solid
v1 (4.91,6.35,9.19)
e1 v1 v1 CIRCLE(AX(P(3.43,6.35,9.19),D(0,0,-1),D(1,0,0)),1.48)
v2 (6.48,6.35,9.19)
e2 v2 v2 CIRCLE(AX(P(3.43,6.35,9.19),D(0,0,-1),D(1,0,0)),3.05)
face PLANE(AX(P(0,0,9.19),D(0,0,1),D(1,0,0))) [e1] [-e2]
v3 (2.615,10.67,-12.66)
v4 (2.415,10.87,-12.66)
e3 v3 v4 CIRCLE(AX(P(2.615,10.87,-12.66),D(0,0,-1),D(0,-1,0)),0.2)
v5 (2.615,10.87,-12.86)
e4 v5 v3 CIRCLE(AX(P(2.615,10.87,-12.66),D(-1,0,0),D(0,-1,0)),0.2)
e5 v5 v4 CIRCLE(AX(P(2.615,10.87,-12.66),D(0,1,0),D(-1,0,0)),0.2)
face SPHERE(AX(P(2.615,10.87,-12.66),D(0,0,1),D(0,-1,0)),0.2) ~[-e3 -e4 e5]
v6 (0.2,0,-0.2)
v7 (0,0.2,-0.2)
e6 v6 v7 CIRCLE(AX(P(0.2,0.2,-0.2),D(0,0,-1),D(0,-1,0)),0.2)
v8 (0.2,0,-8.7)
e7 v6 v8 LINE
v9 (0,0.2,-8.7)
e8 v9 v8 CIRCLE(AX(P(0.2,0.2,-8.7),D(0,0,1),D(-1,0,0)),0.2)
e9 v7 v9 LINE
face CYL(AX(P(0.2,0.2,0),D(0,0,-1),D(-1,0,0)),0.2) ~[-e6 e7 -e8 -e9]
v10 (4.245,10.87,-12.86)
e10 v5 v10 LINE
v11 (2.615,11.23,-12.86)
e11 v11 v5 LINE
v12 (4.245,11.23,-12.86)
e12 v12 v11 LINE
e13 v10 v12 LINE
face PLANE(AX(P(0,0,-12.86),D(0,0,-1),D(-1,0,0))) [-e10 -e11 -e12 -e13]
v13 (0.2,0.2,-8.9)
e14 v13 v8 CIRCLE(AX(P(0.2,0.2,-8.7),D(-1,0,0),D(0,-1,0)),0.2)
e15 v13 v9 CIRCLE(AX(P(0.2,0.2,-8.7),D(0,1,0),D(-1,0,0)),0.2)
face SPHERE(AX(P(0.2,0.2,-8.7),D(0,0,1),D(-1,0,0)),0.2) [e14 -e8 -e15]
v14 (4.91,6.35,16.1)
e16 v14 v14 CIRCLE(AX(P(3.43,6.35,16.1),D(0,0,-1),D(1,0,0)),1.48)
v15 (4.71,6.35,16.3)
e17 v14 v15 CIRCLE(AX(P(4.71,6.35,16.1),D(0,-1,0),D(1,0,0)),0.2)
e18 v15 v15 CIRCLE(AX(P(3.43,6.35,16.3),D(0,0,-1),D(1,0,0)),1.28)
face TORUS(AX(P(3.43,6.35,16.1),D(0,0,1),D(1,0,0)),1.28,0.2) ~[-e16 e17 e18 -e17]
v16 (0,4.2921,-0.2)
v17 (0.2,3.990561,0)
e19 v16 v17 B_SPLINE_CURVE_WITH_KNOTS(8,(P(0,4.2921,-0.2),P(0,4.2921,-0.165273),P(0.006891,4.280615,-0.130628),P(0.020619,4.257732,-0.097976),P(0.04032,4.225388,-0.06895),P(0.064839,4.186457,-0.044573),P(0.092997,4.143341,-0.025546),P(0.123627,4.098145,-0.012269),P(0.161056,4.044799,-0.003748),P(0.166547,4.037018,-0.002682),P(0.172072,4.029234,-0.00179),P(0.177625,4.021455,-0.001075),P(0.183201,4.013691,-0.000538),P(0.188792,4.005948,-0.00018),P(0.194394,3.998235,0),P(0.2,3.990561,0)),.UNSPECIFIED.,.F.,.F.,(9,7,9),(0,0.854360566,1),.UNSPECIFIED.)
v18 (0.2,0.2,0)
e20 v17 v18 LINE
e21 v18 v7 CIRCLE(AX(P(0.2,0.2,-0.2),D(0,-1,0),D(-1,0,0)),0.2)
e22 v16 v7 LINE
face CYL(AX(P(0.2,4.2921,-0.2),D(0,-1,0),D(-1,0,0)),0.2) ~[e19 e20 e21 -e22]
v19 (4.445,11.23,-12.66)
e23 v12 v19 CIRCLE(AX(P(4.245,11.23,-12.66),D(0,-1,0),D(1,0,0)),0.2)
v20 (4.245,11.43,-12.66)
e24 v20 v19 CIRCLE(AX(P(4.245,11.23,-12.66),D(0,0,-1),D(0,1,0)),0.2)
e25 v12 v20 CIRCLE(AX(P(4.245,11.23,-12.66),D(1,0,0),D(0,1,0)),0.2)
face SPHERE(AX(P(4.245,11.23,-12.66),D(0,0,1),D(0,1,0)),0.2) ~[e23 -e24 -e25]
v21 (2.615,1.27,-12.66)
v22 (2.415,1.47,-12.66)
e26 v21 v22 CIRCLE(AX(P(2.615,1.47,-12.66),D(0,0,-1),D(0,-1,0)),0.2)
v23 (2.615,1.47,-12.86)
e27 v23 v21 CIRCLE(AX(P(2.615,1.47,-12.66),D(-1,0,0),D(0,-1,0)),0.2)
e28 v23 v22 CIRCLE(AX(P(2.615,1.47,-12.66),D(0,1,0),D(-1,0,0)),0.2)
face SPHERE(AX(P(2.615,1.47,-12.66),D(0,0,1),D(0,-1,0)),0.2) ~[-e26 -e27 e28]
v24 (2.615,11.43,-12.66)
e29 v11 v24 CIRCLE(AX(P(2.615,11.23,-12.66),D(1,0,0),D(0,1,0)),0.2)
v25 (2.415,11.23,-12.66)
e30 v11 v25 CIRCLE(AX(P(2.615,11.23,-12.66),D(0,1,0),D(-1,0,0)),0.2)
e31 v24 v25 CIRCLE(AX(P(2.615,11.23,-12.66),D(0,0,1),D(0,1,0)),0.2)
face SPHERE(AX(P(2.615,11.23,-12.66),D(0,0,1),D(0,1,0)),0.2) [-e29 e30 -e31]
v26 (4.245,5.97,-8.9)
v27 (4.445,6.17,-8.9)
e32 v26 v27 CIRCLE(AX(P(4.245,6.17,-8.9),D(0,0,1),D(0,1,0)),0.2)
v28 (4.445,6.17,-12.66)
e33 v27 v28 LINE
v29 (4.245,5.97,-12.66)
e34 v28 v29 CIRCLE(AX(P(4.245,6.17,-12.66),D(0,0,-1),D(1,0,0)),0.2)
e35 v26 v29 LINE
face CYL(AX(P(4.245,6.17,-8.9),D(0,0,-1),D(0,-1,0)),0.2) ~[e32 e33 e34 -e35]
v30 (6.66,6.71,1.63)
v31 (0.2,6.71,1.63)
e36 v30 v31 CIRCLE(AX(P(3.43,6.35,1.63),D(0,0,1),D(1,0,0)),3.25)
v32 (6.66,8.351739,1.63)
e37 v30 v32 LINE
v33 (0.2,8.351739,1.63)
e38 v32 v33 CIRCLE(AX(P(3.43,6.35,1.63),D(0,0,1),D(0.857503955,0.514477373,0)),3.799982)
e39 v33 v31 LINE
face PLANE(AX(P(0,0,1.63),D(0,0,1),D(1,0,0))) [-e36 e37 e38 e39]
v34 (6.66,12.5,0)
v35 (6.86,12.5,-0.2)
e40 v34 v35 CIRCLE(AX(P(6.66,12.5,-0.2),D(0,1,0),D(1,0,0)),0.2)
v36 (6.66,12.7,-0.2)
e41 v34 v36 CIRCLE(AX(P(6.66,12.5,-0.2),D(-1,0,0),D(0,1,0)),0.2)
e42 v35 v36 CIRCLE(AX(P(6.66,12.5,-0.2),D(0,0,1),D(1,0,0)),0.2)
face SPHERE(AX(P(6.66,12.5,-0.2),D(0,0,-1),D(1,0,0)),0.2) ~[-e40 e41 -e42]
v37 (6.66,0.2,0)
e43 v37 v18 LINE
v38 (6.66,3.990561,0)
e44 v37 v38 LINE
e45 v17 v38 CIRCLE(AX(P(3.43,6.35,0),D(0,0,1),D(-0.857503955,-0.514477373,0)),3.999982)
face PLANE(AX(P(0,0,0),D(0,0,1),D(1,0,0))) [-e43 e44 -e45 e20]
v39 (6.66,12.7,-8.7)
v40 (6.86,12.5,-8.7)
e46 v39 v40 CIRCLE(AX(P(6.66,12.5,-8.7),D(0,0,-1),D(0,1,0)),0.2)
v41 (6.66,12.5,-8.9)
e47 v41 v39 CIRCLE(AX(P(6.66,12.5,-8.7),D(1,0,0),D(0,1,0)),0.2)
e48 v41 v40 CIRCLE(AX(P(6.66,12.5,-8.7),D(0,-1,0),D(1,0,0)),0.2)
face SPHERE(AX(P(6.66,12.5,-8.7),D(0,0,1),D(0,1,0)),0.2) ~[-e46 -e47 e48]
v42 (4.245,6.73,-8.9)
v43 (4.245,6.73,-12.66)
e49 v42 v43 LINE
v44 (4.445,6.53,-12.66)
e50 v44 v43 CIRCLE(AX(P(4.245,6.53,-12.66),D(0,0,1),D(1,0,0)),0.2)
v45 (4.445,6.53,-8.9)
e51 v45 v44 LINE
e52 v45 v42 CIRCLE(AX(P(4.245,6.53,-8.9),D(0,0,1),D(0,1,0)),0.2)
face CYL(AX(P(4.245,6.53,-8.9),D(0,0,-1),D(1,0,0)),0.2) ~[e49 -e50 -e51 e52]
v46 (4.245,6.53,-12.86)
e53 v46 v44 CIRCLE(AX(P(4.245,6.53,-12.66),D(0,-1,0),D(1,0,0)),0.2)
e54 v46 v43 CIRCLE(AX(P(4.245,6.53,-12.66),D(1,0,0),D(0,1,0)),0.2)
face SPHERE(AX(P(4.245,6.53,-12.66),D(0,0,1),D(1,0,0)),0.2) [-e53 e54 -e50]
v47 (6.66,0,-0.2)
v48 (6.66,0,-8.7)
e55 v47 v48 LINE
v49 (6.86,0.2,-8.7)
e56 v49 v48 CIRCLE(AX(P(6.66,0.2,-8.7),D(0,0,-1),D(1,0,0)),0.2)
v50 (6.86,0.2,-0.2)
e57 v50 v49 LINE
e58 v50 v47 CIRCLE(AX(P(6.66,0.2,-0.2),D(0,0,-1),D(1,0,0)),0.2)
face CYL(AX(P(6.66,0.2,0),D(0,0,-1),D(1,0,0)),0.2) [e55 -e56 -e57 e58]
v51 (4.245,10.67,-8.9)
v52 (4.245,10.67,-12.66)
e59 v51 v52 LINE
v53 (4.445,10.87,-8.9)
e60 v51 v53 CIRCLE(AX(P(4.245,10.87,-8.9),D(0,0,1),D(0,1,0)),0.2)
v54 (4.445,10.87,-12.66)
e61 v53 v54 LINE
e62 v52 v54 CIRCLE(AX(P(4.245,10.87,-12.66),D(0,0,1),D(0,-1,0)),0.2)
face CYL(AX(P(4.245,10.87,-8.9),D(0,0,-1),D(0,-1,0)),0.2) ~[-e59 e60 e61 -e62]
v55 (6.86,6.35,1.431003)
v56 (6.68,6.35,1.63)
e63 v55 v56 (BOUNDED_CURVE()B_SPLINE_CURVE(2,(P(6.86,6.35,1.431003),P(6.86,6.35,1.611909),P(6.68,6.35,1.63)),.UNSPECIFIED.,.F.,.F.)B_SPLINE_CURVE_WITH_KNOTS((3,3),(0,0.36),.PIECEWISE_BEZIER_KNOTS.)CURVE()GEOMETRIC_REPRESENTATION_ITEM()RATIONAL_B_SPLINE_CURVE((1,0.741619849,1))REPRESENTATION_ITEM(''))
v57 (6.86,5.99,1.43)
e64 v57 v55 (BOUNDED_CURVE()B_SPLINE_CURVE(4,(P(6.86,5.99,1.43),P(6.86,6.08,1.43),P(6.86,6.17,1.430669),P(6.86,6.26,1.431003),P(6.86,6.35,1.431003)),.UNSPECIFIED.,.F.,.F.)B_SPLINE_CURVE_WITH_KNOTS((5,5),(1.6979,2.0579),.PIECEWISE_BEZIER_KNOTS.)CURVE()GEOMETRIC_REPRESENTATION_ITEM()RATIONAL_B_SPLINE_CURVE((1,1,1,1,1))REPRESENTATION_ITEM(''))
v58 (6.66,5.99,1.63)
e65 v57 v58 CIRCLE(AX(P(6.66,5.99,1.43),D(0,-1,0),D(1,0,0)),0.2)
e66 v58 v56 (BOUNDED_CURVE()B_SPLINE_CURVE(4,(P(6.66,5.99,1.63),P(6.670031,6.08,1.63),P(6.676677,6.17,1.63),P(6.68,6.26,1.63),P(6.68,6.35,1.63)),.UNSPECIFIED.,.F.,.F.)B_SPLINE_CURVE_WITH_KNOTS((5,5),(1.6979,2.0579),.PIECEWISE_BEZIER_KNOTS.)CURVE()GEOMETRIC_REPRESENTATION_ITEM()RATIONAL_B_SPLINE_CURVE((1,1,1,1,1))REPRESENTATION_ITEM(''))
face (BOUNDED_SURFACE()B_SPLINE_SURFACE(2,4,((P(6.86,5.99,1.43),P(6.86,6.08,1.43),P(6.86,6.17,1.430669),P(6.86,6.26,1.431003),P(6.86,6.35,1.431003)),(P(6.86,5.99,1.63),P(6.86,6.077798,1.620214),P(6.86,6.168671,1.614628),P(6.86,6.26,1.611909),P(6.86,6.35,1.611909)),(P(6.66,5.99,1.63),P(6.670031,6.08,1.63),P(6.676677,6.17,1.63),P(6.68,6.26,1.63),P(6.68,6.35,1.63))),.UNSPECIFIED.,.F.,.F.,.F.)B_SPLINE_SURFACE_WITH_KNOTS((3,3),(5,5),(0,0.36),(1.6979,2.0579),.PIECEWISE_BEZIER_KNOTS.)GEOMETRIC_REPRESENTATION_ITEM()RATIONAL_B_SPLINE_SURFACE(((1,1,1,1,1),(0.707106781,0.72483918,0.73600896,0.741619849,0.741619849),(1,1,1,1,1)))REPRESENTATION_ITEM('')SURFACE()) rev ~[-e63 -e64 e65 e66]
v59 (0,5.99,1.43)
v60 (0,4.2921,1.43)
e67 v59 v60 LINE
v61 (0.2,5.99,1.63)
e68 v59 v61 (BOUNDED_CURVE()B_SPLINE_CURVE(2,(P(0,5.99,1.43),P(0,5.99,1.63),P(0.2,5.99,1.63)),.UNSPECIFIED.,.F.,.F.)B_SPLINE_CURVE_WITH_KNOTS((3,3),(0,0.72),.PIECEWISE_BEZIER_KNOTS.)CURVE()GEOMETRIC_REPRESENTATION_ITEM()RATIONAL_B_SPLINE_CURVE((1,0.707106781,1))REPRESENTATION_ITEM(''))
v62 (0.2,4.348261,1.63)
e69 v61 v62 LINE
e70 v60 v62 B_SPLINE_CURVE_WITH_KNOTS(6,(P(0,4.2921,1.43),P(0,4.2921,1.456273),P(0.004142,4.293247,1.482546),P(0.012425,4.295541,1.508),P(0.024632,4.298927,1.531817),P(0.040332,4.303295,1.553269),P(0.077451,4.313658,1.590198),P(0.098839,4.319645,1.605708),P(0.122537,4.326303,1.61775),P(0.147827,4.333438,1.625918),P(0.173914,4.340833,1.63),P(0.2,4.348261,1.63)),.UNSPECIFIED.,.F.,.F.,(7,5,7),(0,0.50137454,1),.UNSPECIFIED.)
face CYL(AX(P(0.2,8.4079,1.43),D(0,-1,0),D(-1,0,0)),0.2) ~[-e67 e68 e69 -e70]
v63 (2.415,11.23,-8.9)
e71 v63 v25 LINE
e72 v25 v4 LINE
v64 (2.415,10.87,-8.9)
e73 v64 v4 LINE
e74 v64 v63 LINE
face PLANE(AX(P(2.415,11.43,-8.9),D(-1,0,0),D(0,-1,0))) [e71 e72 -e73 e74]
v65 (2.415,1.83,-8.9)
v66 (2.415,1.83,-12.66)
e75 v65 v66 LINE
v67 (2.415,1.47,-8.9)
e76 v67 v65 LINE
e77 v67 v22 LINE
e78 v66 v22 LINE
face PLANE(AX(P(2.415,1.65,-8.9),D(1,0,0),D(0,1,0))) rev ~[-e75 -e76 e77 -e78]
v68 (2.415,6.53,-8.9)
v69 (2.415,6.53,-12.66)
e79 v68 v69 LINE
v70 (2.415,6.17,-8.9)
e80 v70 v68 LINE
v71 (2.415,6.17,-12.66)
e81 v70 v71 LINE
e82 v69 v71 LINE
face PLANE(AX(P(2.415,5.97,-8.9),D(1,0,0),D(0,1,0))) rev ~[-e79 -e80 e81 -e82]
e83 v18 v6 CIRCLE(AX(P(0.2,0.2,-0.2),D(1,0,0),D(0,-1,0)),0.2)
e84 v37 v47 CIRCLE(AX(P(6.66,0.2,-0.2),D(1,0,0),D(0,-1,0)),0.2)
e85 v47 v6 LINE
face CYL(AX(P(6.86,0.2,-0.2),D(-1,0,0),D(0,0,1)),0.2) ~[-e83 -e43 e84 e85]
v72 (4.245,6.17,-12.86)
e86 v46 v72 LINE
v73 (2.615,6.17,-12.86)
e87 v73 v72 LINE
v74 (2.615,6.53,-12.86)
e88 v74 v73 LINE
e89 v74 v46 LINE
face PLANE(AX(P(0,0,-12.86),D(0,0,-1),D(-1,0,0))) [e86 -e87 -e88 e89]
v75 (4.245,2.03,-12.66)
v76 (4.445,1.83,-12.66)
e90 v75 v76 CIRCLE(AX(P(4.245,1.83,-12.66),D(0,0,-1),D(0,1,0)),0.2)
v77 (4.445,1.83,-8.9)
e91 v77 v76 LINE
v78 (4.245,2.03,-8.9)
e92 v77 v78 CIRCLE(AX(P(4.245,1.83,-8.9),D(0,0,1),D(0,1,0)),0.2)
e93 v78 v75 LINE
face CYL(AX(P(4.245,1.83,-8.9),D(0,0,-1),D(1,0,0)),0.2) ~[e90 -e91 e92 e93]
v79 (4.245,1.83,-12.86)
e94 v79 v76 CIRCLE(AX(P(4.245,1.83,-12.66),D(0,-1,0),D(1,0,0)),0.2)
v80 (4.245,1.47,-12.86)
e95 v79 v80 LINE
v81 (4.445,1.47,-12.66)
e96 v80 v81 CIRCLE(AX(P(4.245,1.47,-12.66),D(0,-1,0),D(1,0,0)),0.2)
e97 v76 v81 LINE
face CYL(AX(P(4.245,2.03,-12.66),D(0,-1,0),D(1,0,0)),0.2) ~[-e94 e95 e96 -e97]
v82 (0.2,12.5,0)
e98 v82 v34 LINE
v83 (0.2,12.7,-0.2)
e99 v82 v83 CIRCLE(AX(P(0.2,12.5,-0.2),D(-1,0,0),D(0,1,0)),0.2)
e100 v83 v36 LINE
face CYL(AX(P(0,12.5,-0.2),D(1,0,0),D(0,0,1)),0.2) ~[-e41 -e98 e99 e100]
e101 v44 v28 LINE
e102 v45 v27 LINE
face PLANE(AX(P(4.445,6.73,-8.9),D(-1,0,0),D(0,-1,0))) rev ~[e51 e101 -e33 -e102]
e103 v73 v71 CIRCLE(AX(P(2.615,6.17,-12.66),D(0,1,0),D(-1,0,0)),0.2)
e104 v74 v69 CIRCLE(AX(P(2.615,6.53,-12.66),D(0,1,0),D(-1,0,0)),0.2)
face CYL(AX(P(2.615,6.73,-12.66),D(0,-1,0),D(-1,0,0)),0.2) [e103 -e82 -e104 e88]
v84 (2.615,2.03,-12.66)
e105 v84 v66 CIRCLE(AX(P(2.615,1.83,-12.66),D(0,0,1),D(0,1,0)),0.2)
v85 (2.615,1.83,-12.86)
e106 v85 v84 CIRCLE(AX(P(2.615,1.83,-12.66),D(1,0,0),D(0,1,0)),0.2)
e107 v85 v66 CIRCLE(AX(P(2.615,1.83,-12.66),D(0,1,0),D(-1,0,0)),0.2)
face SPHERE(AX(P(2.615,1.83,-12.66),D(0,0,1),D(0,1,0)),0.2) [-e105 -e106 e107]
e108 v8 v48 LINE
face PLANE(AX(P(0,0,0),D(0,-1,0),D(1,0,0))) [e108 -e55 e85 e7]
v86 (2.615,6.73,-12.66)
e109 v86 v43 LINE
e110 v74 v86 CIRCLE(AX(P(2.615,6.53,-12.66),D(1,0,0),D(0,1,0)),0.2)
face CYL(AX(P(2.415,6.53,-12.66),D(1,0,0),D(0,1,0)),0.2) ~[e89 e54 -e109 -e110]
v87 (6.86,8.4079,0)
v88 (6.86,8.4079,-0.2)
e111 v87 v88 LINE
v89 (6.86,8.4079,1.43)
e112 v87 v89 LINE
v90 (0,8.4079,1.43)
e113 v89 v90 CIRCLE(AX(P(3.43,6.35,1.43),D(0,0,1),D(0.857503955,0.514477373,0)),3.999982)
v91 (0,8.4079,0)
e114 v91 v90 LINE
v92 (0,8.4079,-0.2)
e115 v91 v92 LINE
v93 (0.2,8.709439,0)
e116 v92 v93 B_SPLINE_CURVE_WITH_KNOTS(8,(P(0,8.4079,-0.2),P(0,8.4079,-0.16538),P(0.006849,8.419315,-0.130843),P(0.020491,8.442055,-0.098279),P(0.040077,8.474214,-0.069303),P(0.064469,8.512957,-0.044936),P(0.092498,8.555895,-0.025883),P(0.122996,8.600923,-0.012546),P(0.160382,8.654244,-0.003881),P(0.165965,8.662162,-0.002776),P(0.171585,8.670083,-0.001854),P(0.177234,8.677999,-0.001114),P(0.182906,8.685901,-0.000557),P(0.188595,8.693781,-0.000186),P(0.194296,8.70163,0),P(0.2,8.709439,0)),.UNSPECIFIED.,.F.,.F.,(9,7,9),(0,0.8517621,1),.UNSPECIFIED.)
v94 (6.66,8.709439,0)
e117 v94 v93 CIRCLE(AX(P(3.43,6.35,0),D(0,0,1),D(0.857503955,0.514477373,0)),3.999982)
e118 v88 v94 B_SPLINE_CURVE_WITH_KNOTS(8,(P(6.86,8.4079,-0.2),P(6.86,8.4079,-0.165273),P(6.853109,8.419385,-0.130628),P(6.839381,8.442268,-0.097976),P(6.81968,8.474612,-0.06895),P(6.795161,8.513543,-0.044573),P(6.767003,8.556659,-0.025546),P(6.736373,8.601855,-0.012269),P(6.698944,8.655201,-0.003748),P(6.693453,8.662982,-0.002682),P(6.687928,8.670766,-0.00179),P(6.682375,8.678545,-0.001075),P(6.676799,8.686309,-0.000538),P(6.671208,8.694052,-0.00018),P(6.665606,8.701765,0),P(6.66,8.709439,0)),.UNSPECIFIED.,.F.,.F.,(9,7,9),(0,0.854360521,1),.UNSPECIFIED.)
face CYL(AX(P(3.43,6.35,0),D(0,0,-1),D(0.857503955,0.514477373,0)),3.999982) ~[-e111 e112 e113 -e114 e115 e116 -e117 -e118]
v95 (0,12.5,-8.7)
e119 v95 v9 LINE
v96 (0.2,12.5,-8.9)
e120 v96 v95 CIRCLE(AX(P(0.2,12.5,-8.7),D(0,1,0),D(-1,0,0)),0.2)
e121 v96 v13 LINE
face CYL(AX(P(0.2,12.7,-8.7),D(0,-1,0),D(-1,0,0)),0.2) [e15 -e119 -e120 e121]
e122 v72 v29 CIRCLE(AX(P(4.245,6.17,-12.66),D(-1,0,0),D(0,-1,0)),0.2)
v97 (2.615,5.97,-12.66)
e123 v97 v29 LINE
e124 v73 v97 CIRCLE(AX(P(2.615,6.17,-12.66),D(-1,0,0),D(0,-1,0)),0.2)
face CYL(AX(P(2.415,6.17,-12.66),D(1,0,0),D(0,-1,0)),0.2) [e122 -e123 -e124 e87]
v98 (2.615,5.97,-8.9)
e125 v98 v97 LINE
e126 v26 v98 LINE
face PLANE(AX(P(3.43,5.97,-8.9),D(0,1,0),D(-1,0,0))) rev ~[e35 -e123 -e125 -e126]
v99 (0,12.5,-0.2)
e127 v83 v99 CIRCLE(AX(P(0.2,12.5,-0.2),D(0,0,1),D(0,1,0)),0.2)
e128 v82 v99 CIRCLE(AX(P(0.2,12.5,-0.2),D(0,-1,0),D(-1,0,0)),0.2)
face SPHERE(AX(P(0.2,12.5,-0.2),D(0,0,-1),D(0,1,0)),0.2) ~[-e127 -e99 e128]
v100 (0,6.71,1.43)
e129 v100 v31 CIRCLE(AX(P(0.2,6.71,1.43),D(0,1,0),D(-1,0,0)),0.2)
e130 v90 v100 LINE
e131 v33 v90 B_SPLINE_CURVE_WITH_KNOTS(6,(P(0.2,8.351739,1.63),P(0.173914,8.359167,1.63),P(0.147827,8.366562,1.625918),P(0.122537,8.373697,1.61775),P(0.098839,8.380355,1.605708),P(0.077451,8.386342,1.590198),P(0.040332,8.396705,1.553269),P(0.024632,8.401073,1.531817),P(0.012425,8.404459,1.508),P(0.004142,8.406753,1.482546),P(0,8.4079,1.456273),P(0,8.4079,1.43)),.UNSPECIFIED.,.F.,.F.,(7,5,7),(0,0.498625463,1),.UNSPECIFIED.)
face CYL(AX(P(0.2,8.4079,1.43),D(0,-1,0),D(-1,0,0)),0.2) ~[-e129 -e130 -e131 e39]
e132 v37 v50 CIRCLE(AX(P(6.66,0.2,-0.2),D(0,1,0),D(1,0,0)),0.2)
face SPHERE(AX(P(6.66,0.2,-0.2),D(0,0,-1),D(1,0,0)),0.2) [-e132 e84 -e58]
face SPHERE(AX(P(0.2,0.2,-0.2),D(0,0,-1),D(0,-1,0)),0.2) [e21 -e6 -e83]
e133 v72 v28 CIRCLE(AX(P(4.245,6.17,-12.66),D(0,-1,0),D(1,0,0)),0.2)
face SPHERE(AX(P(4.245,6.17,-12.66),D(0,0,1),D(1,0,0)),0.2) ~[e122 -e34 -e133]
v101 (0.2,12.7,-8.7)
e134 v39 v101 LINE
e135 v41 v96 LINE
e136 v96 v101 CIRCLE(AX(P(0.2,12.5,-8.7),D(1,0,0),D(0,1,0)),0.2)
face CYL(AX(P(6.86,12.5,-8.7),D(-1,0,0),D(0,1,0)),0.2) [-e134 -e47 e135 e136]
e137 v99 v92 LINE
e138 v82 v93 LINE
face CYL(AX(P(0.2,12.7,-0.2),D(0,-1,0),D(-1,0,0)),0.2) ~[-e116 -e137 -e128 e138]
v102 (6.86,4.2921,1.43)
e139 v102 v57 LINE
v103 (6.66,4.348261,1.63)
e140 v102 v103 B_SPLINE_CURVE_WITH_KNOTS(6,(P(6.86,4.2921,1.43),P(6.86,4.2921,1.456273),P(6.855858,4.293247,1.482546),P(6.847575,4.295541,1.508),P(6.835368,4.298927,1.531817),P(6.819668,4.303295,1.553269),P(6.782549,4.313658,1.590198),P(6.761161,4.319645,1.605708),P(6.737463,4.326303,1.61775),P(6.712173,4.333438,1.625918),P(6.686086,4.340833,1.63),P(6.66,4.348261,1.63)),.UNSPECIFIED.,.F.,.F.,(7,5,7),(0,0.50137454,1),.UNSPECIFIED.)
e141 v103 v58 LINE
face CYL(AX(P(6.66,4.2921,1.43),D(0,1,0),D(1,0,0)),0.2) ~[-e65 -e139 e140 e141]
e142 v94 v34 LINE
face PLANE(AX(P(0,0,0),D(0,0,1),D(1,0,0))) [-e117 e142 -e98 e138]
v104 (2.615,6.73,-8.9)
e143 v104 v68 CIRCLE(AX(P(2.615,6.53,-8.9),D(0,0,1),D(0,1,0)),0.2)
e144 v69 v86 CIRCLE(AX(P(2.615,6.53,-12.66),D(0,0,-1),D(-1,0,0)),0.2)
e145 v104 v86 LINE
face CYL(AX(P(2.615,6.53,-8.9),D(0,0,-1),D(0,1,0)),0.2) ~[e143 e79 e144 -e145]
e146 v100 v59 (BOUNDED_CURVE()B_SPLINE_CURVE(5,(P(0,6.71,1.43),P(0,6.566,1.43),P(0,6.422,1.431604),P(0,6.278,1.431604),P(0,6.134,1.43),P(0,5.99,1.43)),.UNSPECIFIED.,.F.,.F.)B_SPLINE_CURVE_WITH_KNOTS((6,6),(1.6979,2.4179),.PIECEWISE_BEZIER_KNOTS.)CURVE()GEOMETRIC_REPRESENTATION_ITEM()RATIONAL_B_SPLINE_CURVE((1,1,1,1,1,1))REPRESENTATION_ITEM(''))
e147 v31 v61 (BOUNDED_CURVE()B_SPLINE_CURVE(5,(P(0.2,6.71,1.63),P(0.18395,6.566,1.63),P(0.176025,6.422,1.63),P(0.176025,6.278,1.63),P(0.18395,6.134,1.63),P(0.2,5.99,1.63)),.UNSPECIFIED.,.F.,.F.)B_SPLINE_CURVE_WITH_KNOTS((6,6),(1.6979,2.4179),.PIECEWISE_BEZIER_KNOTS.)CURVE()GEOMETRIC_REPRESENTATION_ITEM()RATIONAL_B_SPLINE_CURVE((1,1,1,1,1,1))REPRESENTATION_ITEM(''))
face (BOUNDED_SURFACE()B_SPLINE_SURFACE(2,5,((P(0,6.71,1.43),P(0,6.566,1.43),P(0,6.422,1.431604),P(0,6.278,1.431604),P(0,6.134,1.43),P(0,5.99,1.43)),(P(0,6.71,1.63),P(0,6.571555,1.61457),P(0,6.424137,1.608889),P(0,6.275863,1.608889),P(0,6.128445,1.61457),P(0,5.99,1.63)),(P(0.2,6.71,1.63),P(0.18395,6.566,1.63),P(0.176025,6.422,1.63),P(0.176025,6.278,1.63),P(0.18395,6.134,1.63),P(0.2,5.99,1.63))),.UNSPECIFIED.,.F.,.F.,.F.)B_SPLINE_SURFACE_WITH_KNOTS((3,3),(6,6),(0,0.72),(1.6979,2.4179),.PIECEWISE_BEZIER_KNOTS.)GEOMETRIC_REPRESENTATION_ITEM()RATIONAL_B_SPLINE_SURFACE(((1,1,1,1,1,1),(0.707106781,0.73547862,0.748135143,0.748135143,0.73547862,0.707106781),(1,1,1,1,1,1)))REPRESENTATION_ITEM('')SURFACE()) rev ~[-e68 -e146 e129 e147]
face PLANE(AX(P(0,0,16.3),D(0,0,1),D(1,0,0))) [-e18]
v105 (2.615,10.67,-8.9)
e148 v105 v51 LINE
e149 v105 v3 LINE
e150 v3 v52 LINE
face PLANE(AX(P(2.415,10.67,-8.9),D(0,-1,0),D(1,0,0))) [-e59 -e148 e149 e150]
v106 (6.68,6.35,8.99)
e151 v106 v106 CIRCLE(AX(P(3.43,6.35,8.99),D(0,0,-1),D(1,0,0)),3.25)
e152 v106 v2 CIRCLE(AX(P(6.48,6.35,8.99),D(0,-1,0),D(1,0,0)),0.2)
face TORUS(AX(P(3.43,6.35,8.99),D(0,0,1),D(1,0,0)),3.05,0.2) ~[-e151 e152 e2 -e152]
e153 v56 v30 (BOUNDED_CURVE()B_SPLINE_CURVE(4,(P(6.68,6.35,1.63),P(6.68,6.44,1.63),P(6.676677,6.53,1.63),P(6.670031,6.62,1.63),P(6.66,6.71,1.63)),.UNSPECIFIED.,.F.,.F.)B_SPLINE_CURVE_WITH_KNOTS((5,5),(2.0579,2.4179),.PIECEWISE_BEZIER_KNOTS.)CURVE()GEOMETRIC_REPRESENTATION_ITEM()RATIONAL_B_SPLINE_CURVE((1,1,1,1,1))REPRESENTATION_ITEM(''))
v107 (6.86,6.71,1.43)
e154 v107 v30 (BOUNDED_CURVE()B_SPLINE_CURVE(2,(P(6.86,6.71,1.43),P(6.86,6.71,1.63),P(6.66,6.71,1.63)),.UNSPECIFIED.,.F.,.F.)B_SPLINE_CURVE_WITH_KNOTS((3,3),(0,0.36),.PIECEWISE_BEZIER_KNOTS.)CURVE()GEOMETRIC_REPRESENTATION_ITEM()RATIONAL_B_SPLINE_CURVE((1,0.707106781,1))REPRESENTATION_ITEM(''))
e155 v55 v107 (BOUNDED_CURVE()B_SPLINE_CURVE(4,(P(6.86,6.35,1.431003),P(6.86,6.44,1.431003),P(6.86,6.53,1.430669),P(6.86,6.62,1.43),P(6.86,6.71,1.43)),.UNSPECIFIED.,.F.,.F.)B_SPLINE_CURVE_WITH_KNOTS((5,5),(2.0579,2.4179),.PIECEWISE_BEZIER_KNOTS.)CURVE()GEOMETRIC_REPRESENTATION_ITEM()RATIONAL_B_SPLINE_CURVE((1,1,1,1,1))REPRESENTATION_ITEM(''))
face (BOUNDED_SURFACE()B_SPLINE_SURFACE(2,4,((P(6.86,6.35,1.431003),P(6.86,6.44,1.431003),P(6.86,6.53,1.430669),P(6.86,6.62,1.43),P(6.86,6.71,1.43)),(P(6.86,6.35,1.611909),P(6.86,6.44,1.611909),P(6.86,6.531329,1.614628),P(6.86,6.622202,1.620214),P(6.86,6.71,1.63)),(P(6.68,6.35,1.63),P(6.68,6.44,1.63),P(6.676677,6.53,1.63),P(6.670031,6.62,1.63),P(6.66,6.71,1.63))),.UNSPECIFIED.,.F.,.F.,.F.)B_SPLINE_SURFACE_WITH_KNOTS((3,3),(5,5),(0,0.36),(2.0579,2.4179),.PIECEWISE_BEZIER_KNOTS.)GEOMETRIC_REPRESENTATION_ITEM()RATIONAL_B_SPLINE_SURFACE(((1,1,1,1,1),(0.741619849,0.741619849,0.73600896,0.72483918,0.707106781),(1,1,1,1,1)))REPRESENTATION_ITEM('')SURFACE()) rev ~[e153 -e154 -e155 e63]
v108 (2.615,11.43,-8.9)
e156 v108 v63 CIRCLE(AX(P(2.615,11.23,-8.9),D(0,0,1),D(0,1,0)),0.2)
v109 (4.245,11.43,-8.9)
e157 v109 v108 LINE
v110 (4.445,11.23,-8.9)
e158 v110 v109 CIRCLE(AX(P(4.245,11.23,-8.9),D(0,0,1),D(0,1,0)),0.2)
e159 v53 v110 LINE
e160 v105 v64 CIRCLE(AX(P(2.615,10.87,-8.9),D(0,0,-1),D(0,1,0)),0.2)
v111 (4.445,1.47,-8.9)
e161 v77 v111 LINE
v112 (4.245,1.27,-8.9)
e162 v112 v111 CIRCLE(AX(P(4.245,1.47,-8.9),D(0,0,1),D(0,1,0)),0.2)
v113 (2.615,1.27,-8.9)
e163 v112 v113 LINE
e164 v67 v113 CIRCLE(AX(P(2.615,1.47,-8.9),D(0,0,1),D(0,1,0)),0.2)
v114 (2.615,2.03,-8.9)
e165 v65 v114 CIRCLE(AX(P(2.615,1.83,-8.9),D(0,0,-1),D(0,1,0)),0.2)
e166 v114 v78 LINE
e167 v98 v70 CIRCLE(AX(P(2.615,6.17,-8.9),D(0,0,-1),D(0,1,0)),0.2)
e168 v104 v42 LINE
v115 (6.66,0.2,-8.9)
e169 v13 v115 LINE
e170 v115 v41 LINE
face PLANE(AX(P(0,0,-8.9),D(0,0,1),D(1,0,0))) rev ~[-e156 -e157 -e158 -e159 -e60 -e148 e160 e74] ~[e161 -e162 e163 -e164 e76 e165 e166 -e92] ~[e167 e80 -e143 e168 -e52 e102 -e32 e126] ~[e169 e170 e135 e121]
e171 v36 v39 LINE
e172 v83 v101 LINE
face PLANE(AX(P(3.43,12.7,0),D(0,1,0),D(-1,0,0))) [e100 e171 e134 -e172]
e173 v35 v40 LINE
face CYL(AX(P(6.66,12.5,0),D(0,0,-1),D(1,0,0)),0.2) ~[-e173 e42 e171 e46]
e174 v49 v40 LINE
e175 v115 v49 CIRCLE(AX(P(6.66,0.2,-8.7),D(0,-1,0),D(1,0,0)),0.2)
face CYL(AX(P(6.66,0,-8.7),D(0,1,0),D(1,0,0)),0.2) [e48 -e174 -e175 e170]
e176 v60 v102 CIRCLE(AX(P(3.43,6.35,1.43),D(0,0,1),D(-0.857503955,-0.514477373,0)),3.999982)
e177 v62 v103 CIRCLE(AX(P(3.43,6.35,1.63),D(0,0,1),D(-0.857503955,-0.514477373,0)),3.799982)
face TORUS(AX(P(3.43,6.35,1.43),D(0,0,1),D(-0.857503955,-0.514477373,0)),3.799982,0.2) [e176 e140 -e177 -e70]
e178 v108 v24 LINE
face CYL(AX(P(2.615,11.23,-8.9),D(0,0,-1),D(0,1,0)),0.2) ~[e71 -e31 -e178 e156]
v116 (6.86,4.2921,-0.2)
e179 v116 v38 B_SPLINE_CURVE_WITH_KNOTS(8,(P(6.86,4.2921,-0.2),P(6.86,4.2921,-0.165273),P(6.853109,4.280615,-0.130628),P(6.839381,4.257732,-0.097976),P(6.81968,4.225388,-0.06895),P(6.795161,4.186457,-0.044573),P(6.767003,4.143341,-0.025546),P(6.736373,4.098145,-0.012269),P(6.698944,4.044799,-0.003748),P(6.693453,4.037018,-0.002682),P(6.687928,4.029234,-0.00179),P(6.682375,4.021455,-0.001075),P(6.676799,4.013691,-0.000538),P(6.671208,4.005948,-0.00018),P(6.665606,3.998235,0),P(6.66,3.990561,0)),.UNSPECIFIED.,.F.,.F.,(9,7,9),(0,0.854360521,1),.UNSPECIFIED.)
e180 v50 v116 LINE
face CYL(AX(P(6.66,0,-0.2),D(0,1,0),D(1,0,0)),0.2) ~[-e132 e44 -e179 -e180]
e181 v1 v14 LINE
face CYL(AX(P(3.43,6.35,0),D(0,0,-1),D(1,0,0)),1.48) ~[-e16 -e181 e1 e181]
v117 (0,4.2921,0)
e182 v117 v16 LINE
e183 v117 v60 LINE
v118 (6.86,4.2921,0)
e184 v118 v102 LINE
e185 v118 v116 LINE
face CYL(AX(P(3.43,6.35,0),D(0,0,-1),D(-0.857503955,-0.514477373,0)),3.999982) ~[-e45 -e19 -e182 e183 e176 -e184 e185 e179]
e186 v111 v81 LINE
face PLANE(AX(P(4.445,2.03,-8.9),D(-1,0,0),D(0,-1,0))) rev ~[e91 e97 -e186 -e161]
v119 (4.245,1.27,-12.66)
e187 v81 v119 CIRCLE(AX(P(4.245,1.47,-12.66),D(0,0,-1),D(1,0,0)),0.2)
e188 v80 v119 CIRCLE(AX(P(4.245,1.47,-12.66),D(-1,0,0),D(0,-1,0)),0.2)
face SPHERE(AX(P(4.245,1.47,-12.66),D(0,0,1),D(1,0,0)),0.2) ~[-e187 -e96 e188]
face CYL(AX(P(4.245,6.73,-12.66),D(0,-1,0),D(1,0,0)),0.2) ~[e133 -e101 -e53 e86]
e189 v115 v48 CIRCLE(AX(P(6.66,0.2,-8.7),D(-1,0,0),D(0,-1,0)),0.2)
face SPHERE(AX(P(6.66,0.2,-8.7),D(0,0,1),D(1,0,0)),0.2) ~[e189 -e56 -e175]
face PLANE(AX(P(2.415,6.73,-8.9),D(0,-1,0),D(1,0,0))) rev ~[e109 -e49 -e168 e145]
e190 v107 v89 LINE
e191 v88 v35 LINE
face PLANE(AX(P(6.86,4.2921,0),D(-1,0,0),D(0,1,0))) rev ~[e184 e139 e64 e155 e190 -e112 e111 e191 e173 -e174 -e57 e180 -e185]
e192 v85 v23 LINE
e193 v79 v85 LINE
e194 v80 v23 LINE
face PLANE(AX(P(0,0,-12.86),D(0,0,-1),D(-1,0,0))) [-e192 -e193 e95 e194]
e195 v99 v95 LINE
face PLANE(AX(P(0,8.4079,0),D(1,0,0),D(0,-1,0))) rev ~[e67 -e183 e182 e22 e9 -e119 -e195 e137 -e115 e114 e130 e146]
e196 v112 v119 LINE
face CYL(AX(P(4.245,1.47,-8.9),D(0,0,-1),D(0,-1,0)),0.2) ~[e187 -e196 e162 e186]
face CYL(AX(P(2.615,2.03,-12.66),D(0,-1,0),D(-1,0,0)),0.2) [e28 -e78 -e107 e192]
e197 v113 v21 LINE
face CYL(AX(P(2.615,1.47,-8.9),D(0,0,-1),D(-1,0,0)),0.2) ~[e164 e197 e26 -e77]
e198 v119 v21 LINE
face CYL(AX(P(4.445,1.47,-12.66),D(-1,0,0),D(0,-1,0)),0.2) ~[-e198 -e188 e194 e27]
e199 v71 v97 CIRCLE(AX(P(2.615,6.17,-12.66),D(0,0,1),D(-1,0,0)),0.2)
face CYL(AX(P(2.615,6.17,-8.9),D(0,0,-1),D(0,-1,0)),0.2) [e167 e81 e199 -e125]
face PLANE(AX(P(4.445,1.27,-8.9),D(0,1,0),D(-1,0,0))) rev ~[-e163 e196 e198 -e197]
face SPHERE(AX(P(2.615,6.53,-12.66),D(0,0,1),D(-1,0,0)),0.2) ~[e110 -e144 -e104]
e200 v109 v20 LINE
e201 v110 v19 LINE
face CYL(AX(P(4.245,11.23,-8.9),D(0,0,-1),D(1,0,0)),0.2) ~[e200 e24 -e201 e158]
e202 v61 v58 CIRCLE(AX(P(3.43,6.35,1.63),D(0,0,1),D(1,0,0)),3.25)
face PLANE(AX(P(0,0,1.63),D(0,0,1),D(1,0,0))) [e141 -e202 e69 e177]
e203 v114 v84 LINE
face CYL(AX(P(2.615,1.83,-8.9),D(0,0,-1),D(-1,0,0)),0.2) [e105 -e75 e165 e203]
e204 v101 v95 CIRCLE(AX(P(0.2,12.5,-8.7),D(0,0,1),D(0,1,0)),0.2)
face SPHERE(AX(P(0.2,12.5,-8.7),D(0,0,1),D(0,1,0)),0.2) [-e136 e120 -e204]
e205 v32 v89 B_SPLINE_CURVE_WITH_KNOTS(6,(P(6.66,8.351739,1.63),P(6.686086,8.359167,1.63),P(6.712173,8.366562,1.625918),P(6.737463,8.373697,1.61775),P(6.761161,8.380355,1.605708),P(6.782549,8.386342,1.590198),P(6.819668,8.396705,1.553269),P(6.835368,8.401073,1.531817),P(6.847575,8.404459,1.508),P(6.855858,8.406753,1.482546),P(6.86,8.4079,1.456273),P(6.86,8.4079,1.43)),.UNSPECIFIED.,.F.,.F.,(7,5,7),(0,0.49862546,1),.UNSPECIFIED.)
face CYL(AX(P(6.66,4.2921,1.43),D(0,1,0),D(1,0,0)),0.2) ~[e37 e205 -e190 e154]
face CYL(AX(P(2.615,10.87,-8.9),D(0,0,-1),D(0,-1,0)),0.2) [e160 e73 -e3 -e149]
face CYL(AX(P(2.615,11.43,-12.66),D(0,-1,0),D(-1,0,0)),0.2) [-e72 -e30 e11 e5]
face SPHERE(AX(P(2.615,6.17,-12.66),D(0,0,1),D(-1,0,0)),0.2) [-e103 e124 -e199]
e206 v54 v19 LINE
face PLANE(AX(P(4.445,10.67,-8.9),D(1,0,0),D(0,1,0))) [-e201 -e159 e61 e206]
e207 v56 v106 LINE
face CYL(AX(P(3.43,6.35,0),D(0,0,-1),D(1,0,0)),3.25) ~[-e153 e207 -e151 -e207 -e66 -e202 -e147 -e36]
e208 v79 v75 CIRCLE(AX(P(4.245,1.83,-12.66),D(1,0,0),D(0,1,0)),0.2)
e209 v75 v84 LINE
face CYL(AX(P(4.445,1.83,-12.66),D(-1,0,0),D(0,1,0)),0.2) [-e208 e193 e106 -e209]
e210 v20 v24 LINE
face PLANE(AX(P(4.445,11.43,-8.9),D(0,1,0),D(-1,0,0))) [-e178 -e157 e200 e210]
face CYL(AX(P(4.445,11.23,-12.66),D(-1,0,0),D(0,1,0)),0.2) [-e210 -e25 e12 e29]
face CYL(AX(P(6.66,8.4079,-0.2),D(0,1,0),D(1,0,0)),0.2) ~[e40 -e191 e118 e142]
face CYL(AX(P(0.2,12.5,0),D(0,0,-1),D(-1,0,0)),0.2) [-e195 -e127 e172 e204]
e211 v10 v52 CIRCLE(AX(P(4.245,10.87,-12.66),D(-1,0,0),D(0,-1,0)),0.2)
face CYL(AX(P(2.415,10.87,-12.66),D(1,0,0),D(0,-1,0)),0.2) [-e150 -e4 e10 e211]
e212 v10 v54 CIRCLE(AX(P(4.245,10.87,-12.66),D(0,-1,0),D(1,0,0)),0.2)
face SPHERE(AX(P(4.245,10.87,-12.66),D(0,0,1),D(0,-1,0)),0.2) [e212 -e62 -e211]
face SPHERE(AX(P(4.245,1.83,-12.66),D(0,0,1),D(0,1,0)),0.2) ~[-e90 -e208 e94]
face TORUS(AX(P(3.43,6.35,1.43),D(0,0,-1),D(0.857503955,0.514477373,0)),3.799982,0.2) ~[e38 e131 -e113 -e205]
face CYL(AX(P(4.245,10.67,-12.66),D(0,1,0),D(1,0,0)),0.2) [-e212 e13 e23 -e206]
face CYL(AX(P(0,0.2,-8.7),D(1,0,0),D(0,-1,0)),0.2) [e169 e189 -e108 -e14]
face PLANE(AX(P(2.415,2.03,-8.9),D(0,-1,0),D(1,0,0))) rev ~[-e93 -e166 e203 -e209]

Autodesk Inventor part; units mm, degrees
ref_plane "YZ Plane" through (0, 0, 0) normal (1, 0, 0) x (0, 1, 0)
ref_plane "XZ Plane" through (0, 0, 0) normal (0, 1, 0) x (-1, 0, 0)
ref_plane "XY Plane" through (0, 0, 0) normal (0, 0, 1) x (1, 0, 0)
sketch "Boceto1" plane through (0, 0, 0) normal (0, 0, 1) x (1, 0, 0)
  line L0 (0, 0) -> (6.86, 0)
  line L1 (6.86, 0) -> (6.86, 12.7)
  line L2 (6.86, 12.7) -> (0, 12.7)
  line L3 (0, 12.7) -> (0, 0)
  line L4 (3.43, 12.7) -> (3.43, 0)
  circle A0 centre (3.43, 6.35) radius 3.25
  circle A1 centre (3.43, 6.35) radius 1.48
  dimension "d0" = 6.86
  dimension "d1" = 12.7
  dimension "d2" = 6.5
  dimension "d3" = 2.96
extrude "Extrusión1" add sketch "Boceto1" against normal blind 8.9
extrude "Extrusión2" add sketch "Boceto1" along normal blind 16.3 contours A1 L4 | L4 A1
extrude "Extrusión3" add sketch "Boceto1" along normal blind 9.19 contours A0 L4 A1 | L4 A1 A0
sketch "Boceto2" plane through (0, 0, -8.9) normal (0, 0, -1) x (-1, 0, 0)
  line L0 (-2.415, 6.35) -> (-2.415, 6.73)
  line L1 (-2.415, 6.73) -> (-4.445, 6.73)
  line L2 (-4.445, 6.73) -> (-4.445, 5.97)
  line L3 (-4.445, 5.97) -> (-2.415, 5.97)
  line L4 (-2.415, 5.97) -> (-2.415, 6.73)
  line L5 (-3.43, 6.35) -> (-3.43, 1.65)
  line L6 (-2.415, 1.65) -> (-2.415, 2.03)
  line L7 (-2.415, 2.03) -> (-4.445, 2.03)
  line L8 (-4.445, 2.03) -> (-4.445, 1.27)
  line L9 (-4.445, 1.27) -> (-2.415, 1.27)
  line L10 (-2.415, 1.27) -> (-2.415, 2.03)
  line L11 (-2.415, 11.43) -> (-2.415, 10.67)
  line L12 (-4.445, 11.43) -> (-2.415, 11.43)
  line L13 (-4.445, 10.67) -> (-4.445, 11.43)
  line L14 (-2.415, 10.67) -> (-4.445, 10.67)
  line L15 (-2.415, 11.05) -> (-2.415, 10.67)
  point P0 (-3.43, 11.05)
  dimension "d10" = 1.015
  dimension "d11" = 0.38
  dimension "d12" = 2.03
  dimension "d13" = 0.76
  dimension "d14" = 4.7
  dimension "d16" = 0.38
  dimension "d17" = 2.03
  dimension "d18" = 0.76
extrude "Extrusión4" add sketch "Boceto2" along normal blind 3.96
sketch "Boceto3" plane through (0, 0, 0) normal (0, 0, 1) x (1, 0, 0)
  circle A0 centre (3.43, 6.35) radius 3.25 projected
  line L0 (6.86, 0) -> (6.86, 12.7) projected
  line L1 (0, 12.7) -> (0, 0) projected
  arc A1 (0, 4.2921) -> (6.86, 4.2921) centre (3.43, 6.35) ccw
  arc A2 (6.86, 8.4079) -> (0, 8.4079) centre (3.43, 6.35) ccw
  line L2 (0, 8.4079) -> (0, 4.2921)
  line L3 (6.86, 8.4079) -> (6.86, 4.2921)
extrude "Extrusión5" add sketch "Boceto3" along normal blind 1.63
fillet "Empalme1" radius 0.2 44 edges at (6.86, 0, -4.45) (0, 0, -4.45) (6.86, 12.7, -4.45) (0, 12.7, -4.45) (3.43, 12.7, -8.9) (6.86, 6.35, -8.9) (0, 6.35, -8.9) (3.43, 0, -8.9) (6.86, 2.146, 0) (6.86, 10.554, 0) (3.43, 12.7, 0) (3.43, 0, 0) (0, 2.146, 0) (0, 10.554, 0) (3.43, 2.35, 1.63) (3.43, 10.35, 1.63) (0.18, 6.35, 9.19) (1.95, 6.35, 16.3) (4.445, 2.03, -10.88) (4.445, 1.27, -10.88) (2.415, 2.03, -10.88) (2.415, 1.27, -10.88) (4.445, 6.73, -10.88) (4.445, 5.97, -10.88) (2.415, 6.73, -10.88) (2.415, 5.97, -10.88) (4.445, 10.67, -10.88) (4.445, 11.43, -10.88) (2.415, 10.67, -10.88) (2.415, 11.43, -10.88) (3.43, 11.43, -12.86) (3.43, 10.67, -12.86) (2.415, 11.05, -12.86) (4.445, 11.05, -12.86) (4.445, 6.35, -12.86) (2.415, 6.35, -12.86) (3.43, 6.73, -12.86) (3.43, 5.97, -12.86) (3.43, 2.03, -12.86) (4.445, 1.65, -12.86) (3.43, 1.27, -12.86) (2.415, 1.65, -12.86) (0, 6.35, 1.63) (6.86, 6.35, 1.63)
properties part number "Switch"
